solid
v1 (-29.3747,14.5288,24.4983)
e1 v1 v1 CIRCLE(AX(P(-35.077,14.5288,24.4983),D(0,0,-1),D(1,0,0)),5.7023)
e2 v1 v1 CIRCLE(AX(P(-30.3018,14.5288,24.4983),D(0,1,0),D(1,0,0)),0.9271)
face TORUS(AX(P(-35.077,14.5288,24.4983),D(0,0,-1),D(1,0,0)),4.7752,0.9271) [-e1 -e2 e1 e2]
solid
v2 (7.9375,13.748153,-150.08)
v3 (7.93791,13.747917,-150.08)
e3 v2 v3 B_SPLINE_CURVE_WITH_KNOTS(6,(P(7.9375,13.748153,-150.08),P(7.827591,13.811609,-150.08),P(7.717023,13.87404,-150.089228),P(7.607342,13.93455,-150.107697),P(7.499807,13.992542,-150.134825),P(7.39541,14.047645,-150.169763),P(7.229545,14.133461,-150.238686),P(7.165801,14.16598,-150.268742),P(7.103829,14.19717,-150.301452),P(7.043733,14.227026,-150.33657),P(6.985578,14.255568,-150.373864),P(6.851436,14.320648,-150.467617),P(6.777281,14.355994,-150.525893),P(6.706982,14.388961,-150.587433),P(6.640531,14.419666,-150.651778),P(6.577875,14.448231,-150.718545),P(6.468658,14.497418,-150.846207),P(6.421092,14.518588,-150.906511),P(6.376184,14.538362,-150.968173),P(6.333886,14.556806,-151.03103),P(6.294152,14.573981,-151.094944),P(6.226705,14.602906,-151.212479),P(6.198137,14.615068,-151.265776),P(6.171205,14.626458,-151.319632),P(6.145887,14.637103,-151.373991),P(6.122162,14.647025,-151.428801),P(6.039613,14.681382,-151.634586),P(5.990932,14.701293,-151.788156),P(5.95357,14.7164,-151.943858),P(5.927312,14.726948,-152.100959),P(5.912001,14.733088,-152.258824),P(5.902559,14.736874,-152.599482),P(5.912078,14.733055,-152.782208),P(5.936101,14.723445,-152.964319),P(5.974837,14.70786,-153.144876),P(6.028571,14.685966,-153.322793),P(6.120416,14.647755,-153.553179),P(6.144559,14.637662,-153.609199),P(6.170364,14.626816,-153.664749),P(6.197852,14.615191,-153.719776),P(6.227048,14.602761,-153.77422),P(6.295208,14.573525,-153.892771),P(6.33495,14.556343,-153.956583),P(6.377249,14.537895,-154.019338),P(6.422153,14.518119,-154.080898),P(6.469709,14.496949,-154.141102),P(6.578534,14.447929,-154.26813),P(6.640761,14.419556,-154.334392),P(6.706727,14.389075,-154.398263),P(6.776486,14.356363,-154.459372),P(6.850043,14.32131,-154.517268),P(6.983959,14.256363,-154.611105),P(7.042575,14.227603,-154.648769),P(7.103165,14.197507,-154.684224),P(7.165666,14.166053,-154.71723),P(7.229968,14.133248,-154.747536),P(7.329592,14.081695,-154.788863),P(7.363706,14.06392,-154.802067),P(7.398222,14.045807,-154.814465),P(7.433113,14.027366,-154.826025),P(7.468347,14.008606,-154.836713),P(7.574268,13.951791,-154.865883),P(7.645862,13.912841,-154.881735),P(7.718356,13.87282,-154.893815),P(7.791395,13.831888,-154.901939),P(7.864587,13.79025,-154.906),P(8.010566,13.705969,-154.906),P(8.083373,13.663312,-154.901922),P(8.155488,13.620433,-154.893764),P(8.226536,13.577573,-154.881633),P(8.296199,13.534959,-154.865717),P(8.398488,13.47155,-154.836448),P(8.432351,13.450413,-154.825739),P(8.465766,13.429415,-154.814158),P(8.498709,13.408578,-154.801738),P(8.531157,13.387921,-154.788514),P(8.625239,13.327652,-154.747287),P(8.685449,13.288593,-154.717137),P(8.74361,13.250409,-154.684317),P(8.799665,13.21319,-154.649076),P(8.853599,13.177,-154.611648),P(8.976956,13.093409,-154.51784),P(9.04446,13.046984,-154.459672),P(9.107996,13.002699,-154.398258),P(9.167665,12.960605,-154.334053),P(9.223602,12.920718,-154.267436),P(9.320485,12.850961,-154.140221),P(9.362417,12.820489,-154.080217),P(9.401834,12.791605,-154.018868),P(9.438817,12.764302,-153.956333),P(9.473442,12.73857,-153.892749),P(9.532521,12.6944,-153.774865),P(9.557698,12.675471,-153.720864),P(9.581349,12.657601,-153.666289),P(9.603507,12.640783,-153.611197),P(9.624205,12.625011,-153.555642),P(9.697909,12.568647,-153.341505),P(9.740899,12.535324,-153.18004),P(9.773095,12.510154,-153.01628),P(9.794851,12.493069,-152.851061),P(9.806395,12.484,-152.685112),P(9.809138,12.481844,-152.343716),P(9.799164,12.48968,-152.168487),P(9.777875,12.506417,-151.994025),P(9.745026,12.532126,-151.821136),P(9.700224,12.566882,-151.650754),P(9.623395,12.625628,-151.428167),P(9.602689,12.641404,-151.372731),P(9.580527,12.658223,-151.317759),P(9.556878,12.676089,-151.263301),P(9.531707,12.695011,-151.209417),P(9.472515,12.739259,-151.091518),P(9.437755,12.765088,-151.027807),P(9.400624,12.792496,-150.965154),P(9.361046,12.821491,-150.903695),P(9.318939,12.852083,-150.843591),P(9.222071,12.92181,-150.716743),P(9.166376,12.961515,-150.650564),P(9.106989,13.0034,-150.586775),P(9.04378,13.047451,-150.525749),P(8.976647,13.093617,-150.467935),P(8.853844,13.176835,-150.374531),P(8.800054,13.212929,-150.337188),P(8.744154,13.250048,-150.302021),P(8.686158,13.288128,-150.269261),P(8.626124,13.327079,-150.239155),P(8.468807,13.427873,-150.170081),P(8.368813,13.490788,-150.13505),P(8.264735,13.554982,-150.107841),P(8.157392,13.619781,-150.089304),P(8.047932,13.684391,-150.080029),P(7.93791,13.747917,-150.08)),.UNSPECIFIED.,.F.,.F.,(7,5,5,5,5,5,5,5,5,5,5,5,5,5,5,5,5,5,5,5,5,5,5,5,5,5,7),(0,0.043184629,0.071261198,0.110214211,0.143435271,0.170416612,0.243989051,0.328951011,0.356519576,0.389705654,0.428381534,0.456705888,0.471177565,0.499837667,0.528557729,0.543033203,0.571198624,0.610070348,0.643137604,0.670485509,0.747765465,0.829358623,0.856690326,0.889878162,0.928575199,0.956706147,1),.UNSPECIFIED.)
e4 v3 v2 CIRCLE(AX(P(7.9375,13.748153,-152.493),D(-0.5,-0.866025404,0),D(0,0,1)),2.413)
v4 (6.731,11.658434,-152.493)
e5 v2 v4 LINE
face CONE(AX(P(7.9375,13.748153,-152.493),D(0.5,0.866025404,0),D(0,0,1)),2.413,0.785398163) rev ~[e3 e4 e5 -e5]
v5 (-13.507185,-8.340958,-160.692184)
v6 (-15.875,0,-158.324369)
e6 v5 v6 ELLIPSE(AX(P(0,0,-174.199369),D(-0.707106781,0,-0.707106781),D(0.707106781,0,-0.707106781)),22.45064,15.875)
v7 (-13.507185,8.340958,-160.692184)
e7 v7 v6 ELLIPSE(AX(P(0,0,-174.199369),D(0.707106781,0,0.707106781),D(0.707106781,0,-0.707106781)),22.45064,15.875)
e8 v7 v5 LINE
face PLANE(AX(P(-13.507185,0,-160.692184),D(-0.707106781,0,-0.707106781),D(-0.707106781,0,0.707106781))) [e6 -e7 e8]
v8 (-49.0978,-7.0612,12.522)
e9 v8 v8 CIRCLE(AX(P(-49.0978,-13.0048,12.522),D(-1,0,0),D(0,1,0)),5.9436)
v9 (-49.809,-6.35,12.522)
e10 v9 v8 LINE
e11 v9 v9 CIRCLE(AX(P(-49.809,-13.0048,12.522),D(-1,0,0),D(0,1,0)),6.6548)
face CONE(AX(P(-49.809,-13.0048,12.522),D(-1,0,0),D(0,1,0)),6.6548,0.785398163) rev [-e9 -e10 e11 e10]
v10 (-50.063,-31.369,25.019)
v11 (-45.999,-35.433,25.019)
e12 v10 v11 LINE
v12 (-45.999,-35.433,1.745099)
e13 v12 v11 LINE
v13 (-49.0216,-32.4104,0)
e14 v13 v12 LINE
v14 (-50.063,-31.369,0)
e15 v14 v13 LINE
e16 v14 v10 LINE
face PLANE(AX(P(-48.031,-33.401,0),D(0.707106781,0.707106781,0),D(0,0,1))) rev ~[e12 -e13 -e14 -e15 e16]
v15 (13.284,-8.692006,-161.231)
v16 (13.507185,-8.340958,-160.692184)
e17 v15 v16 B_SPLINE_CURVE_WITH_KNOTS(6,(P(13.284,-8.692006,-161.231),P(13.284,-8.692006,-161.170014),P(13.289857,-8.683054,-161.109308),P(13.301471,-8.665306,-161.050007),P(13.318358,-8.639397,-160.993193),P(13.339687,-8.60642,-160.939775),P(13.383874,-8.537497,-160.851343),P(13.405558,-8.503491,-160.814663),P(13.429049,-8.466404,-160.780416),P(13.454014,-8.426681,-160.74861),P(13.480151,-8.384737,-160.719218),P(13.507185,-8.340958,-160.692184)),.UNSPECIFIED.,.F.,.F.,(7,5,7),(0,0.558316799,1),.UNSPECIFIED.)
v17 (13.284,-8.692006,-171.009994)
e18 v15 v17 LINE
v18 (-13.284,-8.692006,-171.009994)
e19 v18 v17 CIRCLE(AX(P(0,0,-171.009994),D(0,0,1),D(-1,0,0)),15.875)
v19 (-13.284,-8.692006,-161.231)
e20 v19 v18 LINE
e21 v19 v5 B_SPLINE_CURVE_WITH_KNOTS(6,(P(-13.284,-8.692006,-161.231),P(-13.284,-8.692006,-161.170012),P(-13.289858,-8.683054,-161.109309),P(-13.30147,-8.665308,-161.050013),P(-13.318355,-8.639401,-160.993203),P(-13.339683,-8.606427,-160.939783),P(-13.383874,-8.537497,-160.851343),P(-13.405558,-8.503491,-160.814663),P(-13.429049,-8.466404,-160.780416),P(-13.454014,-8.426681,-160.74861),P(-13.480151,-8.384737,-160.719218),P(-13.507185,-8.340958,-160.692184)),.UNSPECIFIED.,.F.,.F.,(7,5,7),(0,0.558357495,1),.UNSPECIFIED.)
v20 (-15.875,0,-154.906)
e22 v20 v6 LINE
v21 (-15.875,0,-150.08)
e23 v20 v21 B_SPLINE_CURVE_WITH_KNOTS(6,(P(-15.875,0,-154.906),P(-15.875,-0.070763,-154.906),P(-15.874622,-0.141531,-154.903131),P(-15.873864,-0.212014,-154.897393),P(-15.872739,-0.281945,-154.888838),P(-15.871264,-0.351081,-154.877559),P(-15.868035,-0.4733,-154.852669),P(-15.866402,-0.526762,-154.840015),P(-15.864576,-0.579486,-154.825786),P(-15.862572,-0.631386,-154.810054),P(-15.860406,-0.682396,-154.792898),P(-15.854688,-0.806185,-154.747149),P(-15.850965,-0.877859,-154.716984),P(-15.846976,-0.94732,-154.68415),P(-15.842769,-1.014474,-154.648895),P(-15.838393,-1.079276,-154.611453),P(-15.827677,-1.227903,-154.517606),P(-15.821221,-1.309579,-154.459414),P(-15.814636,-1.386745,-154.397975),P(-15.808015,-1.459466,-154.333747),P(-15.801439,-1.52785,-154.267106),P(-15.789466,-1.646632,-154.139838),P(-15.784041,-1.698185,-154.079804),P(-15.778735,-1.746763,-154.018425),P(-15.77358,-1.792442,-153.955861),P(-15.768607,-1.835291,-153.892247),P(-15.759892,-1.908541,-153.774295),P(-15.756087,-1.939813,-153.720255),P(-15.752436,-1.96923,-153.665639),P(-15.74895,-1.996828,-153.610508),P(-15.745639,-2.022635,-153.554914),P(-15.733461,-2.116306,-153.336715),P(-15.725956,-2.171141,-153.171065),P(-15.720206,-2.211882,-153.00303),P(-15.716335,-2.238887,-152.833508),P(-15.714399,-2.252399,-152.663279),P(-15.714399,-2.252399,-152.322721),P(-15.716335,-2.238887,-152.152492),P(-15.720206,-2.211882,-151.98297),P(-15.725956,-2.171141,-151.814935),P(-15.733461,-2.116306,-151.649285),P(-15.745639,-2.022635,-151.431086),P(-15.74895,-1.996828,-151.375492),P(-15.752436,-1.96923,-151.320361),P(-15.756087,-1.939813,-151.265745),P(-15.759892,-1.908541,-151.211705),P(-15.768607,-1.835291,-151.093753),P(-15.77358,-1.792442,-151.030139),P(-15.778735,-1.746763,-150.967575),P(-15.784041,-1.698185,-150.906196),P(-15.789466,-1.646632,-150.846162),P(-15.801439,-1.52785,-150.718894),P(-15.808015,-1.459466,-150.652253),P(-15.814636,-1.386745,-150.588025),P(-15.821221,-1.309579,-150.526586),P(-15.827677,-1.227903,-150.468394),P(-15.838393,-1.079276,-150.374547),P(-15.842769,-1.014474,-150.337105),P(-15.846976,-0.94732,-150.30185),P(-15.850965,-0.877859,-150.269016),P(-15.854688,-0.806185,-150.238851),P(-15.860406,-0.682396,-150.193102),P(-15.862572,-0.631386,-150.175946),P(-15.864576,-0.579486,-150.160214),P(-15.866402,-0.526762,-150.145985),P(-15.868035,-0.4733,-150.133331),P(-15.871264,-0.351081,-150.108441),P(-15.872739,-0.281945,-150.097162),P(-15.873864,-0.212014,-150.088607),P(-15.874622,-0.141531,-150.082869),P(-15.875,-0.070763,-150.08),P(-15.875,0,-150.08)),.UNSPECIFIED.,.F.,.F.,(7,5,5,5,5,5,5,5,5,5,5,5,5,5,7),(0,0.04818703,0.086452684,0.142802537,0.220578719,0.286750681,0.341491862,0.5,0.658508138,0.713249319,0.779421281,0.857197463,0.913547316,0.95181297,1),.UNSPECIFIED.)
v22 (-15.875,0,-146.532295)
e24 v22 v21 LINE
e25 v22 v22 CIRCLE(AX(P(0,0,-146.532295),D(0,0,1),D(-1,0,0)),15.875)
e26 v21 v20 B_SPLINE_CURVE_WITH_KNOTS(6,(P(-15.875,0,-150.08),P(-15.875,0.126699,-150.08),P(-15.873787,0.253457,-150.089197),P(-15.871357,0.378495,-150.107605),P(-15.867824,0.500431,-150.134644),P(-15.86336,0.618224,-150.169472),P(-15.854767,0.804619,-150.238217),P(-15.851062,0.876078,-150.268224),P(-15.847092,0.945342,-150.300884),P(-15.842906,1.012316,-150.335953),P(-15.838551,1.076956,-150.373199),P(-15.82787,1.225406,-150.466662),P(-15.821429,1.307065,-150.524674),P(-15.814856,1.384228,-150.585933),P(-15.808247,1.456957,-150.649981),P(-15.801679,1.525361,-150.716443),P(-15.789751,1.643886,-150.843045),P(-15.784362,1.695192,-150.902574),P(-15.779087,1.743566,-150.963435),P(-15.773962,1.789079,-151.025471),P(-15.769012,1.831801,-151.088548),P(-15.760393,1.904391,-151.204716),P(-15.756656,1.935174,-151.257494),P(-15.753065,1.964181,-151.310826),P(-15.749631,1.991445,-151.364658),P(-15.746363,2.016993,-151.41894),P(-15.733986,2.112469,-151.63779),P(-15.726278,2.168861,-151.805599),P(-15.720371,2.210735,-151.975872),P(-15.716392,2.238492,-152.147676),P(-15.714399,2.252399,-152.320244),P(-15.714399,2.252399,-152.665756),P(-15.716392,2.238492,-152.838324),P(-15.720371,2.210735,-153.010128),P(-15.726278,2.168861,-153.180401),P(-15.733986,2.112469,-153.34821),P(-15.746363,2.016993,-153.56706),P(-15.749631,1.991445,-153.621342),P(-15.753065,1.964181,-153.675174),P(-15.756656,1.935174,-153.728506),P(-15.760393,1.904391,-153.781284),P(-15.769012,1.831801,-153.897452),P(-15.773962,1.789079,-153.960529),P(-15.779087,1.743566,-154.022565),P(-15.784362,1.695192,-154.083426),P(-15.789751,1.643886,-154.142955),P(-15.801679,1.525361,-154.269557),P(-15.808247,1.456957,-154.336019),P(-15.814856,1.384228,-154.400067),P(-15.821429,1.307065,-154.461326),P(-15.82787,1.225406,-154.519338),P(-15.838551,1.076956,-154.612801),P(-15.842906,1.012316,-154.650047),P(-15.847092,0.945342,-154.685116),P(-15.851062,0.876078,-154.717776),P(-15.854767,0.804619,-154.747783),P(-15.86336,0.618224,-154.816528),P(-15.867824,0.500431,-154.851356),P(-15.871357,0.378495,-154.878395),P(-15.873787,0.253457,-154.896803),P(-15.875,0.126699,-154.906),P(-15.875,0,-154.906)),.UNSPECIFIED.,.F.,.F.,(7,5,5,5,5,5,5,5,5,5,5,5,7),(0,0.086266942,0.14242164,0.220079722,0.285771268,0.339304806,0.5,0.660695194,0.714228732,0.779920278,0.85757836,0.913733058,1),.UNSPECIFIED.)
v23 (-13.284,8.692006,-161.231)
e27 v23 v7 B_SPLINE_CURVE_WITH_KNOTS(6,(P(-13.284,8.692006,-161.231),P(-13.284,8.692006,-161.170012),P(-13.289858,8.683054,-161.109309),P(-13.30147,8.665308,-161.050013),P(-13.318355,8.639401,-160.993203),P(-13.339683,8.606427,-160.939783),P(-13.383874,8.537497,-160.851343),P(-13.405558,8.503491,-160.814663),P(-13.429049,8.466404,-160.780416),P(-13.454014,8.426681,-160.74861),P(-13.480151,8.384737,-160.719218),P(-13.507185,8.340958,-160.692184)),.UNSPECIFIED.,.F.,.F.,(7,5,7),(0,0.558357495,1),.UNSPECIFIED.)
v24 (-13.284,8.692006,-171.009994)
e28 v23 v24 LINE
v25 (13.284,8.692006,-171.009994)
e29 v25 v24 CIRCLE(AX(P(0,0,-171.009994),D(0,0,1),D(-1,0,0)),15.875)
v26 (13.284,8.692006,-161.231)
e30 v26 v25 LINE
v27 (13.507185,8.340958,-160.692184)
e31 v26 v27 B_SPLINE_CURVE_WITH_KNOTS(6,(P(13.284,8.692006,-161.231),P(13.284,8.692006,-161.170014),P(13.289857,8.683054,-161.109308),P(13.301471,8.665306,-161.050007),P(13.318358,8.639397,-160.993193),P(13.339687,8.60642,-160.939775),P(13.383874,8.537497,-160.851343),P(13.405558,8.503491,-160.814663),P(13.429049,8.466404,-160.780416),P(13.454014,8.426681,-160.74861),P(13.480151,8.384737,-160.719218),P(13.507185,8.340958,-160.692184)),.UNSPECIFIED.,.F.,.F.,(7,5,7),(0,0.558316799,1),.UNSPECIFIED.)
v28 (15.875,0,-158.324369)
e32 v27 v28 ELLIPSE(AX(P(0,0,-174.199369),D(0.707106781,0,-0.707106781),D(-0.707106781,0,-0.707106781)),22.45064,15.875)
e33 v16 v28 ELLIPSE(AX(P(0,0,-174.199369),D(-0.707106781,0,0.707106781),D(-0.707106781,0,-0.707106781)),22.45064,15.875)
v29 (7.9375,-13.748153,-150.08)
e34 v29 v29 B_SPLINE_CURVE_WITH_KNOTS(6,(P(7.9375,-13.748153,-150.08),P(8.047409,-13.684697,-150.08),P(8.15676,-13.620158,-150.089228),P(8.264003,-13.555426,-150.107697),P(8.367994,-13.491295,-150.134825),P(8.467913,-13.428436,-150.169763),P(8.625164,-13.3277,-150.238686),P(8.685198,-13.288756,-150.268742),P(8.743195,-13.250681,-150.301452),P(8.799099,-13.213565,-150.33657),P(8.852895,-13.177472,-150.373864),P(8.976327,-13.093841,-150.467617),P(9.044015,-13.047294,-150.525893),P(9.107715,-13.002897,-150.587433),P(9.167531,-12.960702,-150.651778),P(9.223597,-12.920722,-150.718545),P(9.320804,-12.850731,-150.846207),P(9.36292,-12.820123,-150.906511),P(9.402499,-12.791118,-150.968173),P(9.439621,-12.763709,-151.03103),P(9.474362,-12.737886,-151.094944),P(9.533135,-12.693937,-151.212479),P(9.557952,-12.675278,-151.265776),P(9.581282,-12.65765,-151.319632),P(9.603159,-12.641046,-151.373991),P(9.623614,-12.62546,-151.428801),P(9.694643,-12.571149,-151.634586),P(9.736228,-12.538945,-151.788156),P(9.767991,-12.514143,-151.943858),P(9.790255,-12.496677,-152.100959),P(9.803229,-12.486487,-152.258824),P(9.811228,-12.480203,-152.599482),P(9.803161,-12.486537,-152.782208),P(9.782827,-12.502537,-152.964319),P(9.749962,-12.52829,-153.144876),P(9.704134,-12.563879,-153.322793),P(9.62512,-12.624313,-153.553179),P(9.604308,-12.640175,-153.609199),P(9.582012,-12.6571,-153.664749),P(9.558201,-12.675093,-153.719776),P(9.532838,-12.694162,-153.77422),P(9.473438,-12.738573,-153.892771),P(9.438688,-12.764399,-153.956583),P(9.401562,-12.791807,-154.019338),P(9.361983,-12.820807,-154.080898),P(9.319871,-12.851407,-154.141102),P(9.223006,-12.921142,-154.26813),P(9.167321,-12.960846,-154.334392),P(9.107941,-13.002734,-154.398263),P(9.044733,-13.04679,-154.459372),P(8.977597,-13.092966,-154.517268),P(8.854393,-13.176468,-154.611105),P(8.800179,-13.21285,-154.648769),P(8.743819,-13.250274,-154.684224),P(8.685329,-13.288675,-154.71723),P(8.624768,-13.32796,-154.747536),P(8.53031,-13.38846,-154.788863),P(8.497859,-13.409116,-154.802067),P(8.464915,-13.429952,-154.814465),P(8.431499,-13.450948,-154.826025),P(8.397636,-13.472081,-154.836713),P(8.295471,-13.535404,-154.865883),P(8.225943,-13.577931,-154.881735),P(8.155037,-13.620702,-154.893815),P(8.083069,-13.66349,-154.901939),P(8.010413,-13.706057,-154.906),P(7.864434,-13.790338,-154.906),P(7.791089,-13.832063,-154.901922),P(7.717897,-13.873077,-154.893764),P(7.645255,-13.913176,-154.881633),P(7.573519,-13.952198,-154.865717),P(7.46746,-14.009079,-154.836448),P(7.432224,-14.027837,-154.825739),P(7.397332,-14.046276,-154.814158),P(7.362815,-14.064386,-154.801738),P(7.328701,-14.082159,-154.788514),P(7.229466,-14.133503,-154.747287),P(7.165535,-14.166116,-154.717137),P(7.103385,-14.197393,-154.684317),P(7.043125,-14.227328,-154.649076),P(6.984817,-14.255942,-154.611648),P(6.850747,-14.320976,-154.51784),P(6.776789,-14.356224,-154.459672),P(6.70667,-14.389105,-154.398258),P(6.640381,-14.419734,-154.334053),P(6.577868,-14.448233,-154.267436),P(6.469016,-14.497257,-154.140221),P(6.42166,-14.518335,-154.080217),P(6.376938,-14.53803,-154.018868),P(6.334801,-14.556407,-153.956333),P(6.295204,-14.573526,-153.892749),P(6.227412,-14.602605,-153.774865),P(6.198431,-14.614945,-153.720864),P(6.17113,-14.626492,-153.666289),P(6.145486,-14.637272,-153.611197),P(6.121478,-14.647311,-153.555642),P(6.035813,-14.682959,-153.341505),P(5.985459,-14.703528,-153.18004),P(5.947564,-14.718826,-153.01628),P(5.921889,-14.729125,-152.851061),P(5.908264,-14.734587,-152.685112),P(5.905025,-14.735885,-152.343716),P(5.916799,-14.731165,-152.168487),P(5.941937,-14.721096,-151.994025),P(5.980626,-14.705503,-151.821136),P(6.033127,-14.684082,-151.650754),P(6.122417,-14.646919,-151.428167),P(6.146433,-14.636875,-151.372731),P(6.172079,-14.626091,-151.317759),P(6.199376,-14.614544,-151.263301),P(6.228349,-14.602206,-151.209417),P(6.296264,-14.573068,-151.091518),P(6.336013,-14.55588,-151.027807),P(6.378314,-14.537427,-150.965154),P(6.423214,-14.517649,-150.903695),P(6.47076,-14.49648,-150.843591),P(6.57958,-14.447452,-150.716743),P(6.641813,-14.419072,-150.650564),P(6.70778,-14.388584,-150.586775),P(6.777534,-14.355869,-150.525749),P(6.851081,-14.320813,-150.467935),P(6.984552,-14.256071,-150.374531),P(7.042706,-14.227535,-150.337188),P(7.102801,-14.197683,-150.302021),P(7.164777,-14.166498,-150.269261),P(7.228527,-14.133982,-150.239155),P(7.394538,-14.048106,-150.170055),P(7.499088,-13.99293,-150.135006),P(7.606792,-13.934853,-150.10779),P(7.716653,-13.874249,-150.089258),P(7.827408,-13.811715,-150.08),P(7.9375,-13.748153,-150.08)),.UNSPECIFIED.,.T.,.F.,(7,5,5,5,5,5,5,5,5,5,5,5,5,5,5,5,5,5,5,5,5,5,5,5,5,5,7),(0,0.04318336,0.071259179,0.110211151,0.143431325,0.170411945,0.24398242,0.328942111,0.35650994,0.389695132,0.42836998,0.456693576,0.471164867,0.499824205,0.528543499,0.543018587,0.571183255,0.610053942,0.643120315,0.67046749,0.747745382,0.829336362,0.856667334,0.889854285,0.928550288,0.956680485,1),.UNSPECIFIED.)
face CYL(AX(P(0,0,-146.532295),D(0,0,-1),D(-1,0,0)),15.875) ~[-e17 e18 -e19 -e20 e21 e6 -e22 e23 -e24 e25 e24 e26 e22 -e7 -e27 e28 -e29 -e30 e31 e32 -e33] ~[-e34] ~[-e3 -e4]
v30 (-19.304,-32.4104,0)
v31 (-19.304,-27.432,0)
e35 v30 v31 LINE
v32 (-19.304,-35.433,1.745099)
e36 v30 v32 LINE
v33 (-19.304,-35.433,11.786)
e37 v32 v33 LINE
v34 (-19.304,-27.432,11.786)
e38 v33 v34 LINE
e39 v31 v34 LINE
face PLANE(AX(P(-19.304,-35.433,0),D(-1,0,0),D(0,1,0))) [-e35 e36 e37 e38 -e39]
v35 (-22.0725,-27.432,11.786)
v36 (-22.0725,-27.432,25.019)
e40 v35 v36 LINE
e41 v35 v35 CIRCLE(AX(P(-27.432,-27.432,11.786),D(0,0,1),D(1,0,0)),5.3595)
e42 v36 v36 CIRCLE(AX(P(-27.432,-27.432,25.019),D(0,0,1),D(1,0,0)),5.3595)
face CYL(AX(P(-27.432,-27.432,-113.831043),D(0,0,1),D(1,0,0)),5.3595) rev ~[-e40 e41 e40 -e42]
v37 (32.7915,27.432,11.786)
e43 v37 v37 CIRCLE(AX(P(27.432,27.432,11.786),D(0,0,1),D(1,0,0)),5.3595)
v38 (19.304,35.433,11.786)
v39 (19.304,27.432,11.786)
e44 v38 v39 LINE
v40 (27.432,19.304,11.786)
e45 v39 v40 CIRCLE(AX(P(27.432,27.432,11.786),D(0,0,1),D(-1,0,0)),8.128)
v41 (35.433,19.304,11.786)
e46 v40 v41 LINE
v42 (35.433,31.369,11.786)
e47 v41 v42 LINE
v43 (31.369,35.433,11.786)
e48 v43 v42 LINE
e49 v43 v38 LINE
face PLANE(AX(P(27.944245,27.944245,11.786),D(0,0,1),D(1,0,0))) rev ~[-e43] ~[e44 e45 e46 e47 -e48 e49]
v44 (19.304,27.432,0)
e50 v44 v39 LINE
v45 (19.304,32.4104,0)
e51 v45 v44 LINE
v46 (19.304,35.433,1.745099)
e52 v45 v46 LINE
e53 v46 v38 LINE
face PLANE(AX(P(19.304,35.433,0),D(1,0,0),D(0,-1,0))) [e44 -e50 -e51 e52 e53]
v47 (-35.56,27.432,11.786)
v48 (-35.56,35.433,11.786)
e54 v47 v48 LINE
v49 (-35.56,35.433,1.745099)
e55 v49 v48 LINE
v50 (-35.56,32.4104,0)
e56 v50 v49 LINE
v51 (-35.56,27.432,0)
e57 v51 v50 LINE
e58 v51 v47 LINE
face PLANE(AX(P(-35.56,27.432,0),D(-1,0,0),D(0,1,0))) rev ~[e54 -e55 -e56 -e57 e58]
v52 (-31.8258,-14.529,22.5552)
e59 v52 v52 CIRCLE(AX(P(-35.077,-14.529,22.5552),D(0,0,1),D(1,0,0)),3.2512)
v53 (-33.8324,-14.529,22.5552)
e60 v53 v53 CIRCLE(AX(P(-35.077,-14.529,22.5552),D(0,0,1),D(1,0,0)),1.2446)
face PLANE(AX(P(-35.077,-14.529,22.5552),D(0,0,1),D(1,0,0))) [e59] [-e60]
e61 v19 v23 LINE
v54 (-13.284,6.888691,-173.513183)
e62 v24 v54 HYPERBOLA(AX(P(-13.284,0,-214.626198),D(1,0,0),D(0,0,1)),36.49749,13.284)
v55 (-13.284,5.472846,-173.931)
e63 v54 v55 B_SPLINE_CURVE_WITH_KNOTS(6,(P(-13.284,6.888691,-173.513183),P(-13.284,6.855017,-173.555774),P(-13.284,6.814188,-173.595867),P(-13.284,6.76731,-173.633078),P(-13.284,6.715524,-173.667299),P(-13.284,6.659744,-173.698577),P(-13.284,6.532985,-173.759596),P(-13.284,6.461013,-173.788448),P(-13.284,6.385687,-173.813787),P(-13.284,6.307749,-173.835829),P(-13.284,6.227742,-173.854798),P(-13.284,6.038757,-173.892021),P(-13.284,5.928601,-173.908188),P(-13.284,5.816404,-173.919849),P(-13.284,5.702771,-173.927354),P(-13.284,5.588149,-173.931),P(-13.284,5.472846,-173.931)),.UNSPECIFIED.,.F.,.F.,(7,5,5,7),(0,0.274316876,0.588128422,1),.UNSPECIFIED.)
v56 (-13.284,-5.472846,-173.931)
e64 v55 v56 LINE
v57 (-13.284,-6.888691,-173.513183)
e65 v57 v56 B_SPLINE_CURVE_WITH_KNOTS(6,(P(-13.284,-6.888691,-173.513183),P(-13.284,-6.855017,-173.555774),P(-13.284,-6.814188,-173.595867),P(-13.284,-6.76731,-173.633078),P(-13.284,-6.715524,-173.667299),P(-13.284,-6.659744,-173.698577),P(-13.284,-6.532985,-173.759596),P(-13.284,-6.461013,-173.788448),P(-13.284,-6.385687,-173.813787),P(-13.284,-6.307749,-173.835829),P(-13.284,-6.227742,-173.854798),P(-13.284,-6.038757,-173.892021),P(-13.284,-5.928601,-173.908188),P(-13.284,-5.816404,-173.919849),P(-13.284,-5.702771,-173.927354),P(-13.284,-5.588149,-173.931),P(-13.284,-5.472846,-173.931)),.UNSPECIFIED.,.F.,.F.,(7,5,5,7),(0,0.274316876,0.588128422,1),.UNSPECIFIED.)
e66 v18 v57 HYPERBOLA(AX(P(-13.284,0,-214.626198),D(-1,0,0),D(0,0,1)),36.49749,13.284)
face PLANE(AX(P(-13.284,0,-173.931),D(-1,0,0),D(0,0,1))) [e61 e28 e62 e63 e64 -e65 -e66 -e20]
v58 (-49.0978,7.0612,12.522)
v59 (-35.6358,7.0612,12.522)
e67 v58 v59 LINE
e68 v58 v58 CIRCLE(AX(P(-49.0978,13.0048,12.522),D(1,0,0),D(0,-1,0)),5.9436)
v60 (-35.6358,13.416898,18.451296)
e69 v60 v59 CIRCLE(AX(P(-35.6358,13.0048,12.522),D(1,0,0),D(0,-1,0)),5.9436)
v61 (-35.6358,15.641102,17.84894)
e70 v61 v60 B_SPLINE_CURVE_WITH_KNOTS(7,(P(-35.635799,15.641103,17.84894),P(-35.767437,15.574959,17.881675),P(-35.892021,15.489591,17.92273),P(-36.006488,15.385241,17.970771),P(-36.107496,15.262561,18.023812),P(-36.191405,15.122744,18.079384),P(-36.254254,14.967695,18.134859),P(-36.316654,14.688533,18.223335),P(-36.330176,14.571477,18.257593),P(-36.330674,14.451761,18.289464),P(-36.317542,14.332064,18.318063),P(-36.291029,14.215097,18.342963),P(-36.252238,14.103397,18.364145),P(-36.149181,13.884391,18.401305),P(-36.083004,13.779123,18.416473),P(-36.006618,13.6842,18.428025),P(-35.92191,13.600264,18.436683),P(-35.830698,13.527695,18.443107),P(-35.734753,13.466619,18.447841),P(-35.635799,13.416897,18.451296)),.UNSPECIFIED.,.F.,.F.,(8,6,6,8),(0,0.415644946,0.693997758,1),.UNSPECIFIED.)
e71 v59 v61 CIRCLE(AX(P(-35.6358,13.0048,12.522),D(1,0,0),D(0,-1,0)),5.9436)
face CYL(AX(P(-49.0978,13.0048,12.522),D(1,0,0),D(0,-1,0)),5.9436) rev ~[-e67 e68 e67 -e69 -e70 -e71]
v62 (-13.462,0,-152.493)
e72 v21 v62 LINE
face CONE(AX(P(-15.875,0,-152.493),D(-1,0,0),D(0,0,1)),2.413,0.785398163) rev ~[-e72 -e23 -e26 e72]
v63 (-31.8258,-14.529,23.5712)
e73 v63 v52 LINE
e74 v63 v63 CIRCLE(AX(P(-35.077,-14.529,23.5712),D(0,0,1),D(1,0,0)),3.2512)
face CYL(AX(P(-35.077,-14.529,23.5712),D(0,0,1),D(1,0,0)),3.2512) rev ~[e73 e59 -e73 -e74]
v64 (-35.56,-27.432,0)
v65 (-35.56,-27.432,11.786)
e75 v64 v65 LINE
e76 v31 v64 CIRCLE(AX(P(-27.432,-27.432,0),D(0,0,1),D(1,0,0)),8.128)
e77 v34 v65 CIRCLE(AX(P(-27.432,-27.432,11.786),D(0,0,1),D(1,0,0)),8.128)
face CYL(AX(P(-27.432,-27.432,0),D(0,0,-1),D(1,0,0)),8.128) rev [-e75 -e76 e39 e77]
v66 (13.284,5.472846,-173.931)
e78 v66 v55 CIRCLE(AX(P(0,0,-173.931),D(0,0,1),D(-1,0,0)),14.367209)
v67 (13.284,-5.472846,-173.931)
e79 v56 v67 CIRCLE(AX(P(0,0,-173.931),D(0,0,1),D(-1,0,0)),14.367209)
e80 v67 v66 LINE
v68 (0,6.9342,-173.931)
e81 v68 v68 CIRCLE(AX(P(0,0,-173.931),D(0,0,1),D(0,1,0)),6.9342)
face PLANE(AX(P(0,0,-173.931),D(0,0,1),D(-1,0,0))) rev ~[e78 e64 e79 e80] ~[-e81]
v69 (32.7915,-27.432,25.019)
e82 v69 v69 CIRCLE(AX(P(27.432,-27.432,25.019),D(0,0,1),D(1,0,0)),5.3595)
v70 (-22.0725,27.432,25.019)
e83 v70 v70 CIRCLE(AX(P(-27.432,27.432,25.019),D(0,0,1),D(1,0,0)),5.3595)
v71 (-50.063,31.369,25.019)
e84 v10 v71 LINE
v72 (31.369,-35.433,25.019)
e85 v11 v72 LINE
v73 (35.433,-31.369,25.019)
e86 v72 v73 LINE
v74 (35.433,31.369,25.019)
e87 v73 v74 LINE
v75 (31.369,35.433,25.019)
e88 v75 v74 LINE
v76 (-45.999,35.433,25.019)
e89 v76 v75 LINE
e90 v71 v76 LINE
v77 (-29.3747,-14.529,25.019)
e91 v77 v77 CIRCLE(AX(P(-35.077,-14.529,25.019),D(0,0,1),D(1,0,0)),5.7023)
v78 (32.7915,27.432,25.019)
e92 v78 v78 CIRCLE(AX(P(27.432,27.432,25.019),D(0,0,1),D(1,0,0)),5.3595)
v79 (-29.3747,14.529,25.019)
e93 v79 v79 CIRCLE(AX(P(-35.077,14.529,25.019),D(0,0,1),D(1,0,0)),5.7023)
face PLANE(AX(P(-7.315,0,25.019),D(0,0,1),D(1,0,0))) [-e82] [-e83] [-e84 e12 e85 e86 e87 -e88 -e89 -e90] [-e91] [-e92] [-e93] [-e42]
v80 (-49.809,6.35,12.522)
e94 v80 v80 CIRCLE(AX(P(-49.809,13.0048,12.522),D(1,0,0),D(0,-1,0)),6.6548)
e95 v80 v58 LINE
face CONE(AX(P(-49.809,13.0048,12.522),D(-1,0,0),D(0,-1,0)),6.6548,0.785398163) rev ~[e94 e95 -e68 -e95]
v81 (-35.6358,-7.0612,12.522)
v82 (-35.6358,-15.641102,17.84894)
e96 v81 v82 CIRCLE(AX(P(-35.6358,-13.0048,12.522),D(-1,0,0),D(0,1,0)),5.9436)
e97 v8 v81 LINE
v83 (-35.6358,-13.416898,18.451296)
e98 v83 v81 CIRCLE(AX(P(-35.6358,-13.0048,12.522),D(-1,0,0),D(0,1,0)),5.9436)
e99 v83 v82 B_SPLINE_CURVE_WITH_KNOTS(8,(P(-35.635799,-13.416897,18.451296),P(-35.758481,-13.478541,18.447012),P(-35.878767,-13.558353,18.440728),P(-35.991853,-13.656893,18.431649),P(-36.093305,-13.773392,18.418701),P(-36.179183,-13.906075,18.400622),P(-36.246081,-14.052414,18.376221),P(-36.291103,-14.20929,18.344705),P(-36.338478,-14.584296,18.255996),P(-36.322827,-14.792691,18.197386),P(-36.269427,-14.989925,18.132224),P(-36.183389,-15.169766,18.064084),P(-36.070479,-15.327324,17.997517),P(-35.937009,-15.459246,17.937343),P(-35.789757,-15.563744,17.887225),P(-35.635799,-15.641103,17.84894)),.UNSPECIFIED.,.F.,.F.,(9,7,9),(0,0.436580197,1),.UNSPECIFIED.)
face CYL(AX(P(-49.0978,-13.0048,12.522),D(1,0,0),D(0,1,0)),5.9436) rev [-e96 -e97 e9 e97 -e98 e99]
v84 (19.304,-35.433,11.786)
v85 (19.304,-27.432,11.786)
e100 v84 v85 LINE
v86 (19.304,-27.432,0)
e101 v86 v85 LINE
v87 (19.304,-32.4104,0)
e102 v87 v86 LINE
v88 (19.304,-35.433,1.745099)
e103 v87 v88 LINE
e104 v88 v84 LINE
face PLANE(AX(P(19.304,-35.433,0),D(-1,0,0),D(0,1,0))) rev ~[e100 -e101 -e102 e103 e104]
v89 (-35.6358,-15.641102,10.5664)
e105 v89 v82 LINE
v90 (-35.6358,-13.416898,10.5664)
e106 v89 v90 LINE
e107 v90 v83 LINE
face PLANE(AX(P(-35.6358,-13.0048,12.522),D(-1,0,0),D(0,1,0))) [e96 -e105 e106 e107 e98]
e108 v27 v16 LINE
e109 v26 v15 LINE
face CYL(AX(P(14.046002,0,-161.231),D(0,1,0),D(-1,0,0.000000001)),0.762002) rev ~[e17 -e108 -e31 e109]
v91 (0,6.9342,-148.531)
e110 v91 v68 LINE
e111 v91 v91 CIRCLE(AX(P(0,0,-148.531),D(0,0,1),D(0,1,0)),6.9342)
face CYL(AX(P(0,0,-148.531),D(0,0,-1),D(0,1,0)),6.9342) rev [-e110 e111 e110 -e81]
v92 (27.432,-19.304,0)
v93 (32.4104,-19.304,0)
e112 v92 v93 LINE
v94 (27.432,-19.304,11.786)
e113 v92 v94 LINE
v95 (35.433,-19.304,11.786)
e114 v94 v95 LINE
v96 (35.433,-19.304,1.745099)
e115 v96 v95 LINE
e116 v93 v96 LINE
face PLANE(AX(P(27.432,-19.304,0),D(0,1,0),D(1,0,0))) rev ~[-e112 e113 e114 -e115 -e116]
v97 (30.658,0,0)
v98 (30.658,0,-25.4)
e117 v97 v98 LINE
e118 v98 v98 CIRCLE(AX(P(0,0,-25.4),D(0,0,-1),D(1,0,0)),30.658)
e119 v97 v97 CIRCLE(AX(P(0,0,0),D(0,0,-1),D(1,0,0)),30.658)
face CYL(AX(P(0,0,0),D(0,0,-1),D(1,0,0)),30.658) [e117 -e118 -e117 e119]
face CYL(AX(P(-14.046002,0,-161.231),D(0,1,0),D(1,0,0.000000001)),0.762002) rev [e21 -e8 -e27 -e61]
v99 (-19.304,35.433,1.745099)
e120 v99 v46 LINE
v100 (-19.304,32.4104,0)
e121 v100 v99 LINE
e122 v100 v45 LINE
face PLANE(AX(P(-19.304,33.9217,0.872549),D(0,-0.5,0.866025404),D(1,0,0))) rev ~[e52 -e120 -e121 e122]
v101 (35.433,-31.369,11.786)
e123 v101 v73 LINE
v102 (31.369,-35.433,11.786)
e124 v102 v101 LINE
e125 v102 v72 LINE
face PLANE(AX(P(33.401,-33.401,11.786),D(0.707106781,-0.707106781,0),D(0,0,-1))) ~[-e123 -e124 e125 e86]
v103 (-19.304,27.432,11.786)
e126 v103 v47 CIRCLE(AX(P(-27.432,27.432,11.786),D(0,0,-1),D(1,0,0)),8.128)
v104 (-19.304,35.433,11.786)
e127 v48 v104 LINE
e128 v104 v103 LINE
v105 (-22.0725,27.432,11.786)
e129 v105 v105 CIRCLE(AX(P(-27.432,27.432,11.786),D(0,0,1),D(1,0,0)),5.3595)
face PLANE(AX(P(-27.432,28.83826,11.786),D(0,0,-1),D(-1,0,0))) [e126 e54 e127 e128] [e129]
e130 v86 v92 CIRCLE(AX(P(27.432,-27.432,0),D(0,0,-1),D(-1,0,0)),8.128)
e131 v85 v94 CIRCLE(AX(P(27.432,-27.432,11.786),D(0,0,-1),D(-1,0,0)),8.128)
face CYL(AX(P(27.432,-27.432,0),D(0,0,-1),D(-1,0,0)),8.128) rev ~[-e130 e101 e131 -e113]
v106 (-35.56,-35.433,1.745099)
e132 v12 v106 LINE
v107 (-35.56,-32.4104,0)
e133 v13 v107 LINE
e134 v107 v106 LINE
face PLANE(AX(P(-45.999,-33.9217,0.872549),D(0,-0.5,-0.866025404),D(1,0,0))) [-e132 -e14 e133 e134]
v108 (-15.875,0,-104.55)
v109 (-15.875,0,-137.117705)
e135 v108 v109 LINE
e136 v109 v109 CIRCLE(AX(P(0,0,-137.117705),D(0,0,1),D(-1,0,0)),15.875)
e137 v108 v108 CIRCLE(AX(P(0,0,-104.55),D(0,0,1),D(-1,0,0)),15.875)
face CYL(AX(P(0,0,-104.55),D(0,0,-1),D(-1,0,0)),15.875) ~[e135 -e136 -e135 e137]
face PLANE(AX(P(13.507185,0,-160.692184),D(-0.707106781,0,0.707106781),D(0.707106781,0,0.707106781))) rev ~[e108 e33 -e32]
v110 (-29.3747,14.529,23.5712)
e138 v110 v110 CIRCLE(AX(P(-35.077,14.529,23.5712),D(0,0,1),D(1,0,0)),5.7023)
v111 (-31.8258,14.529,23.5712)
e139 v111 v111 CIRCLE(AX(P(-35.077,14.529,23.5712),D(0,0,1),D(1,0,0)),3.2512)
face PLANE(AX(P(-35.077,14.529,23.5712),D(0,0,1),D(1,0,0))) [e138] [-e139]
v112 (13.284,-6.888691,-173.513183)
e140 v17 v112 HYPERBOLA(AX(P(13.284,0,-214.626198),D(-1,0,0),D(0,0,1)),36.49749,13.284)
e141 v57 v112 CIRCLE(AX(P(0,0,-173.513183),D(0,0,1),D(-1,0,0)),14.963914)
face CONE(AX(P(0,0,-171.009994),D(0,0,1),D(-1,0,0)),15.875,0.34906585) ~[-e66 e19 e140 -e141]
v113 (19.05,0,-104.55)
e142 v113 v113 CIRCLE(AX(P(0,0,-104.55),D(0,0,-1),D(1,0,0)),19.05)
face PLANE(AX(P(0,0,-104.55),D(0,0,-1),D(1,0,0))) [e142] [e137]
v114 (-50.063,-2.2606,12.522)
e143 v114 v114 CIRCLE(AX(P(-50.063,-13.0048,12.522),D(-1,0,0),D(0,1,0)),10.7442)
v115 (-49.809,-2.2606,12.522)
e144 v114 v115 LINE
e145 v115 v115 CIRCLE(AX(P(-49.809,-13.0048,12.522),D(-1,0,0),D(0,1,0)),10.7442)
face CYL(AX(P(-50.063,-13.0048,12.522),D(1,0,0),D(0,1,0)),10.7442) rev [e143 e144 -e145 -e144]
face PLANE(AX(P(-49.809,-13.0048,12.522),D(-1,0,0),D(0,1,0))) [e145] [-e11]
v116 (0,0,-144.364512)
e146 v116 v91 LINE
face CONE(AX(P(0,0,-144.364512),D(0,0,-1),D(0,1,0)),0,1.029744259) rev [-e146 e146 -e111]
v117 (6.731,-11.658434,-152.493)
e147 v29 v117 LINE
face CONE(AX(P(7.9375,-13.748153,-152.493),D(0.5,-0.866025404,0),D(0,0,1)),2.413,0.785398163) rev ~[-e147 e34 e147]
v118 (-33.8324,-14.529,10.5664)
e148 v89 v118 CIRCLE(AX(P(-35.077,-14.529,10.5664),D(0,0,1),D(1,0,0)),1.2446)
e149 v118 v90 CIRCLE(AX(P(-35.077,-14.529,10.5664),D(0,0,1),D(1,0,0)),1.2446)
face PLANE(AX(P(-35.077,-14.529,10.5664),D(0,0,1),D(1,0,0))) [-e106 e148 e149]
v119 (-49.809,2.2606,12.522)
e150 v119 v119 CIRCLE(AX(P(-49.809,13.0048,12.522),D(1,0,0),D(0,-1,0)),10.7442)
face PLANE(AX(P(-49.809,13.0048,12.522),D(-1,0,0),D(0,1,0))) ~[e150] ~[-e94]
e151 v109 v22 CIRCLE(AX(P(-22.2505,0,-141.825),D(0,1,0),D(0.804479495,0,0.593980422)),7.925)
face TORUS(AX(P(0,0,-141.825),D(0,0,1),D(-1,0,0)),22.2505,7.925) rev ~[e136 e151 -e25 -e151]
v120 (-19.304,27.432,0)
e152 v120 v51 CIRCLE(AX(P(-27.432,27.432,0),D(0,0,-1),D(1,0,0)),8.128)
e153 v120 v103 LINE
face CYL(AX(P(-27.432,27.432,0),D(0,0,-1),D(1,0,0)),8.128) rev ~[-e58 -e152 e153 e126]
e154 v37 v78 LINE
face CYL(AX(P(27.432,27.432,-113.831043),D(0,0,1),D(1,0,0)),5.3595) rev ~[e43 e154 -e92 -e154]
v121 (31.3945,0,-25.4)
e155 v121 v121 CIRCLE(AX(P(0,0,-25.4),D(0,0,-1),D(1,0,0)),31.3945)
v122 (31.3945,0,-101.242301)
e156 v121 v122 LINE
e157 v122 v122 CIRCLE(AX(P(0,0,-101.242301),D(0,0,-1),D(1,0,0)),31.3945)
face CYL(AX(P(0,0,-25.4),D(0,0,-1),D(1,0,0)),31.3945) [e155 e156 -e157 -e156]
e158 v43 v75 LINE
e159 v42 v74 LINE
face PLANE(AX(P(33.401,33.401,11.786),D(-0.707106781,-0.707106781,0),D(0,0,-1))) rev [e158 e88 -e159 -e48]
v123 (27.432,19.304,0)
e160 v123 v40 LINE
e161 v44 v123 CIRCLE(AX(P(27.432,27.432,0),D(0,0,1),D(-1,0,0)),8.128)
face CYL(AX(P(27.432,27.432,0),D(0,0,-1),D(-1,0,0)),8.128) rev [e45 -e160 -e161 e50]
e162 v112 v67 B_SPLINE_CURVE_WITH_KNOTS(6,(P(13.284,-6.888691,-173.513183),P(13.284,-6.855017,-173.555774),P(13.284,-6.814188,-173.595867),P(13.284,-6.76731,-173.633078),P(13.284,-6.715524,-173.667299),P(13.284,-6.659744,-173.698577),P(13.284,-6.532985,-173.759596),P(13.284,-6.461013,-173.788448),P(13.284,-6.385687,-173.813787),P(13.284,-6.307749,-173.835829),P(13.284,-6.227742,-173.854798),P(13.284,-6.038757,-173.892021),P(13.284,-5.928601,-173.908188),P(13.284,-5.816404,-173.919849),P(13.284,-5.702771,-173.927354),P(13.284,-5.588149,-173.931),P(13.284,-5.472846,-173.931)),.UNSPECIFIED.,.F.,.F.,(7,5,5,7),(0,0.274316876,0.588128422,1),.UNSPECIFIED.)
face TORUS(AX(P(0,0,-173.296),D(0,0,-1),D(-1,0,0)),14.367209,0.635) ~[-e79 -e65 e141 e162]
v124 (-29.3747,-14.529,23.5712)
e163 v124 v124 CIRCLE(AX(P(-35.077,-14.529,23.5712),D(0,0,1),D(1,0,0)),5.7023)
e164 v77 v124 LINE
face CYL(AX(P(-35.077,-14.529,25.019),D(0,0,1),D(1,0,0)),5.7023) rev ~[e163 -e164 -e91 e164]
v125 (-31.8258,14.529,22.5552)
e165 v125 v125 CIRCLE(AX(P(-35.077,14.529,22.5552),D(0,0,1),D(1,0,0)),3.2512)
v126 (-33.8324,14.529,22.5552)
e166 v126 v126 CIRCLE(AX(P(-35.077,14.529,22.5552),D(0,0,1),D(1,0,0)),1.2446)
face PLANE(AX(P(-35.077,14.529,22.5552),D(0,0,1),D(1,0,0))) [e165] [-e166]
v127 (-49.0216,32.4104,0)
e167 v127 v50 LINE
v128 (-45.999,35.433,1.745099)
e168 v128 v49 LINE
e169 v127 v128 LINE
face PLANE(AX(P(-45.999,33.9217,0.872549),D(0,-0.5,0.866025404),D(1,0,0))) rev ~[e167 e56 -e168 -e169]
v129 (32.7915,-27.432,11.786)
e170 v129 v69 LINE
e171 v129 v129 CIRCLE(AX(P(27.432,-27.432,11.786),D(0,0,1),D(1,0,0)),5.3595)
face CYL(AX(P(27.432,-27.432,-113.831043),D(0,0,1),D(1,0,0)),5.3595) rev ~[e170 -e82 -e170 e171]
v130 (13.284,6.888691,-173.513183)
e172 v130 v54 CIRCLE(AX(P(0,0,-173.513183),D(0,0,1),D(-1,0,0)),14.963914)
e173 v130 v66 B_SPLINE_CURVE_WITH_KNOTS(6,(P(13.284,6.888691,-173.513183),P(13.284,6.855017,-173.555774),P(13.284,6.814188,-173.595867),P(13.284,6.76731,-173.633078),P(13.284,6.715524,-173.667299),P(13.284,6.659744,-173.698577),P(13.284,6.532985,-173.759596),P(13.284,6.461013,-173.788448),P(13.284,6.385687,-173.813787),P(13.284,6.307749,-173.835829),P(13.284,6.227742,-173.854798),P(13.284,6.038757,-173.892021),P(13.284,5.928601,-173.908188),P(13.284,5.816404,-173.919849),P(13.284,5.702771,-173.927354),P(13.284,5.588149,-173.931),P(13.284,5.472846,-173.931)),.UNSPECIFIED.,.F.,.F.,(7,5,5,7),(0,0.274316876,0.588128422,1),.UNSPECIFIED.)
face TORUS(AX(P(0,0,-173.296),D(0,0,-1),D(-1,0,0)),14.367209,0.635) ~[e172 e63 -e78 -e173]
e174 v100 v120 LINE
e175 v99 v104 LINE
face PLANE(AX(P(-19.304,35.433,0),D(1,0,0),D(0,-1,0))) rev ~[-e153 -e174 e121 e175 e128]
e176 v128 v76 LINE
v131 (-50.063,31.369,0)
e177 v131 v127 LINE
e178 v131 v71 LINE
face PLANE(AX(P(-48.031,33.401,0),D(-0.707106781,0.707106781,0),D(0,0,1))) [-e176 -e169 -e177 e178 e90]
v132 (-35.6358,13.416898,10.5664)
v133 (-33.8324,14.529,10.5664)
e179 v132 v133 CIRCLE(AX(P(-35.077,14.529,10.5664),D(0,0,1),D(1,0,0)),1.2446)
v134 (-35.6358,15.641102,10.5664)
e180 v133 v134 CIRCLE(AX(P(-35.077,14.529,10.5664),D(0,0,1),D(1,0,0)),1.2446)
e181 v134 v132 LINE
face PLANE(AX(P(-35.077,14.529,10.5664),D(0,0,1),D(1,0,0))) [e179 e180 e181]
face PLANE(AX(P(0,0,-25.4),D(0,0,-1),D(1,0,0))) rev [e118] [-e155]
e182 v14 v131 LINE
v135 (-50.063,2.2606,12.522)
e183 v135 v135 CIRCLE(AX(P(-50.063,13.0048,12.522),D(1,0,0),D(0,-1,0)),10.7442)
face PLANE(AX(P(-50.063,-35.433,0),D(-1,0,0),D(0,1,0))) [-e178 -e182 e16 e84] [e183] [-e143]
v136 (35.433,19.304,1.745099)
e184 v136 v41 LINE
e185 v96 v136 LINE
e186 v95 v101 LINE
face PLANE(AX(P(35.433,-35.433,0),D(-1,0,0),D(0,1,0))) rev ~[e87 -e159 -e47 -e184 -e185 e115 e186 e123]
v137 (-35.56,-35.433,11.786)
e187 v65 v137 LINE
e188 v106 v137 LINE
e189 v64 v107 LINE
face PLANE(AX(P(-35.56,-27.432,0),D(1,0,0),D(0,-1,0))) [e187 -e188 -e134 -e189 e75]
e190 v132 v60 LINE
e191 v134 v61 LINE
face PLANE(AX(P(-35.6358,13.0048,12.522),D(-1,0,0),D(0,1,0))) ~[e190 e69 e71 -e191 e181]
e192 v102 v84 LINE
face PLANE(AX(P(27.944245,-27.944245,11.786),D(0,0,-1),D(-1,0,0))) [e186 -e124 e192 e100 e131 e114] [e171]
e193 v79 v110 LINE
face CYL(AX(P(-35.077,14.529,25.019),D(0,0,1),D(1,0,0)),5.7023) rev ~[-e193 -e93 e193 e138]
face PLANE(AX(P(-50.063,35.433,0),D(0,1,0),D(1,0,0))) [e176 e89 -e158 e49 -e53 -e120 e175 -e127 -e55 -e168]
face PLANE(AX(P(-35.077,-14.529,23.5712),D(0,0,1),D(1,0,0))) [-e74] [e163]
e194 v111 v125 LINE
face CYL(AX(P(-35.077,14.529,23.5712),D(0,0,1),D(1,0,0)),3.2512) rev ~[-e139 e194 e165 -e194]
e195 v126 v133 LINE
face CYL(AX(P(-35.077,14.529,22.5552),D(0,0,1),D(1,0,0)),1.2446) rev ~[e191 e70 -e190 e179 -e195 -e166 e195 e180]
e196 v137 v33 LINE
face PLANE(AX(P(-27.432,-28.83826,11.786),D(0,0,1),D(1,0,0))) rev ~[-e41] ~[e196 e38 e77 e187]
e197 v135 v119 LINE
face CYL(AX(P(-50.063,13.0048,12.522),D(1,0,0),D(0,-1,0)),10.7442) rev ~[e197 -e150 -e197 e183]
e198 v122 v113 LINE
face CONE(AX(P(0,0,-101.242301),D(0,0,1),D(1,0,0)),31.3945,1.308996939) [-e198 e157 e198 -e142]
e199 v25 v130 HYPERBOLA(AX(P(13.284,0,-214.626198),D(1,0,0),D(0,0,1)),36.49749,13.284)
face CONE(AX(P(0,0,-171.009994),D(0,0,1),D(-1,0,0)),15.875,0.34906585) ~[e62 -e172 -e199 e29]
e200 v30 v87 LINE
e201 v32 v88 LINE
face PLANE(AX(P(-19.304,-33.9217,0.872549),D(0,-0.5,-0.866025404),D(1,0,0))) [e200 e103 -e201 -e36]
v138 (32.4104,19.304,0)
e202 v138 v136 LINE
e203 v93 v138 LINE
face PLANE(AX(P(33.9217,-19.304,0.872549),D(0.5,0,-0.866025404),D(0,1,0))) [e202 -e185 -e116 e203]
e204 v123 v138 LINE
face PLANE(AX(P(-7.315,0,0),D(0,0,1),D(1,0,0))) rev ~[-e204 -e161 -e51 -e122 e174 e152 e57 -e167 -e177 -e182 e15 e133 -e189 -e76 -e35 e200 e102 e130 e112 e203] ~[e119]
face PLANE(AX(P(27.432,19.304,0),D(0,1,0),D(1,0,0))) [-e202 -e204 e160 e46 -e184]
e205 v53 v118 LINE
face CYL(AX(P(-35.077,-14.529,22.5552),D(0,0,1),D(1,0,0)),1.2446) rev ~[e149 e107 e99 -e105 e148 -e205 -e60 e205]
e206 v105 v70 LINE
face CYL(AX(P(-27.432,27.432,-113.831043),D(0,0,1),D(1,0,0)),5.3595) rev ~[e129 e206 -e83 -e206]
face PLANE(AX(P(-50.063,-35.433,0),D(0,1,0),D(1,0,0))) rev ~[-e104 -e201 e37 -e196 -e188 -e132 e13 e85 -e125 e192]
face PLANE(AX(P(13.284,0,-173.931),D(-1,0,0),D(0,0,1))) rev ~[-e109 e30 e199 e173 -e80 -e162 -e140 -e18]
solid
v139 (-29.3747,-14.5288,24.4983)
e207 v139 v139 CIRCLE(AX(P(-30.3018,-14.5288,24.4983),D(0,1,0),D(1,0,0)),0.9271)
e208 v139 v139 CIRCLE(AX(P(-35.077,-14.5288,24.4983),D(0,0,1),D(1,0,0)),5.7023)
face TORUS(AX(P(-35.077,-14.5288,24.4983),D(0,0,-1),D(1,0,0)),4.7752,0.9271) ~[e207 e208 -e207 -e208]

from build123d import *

# Parameters (mm, degrees)
SKETCH1_W               = 85.496
SKETCH1_H               = 70.866
EXTRUDE1_DEPTH          = 25.019
HOLE1_D                 = 10.719
CUT_EXTRUDE2_DEPTH      = 11.786
SKETCH6_R               = 5.7023
CUT_EXTRUDE3_DEPTH      = 1.4478
SKETCH7_R               = 3.2512
CUT_EXTRUDE4_DEPTH      = 1.016
SKETCH8_R               = 1.2446
CUT_EXTRUDE5_DEPTH      = 11.9888
SKETCH9_R               = 0.9271
CHAMFER1_SIZE           = 4.064
CHAMFER2_SIZE           = 3.0226
CHAMFER2_SIZE2          = 1.745098924
CIRPATTERN1_COUNT       = 3
FILLET2_R               = 0.635
CUT_EXTRUDE8_DEPTH      = 36.433
CUT_EXTRUDE8_DEPTH_BACK = 36.433


with BuildPart() as part:
    # Sketch1 → Extrude1 (new body)
    with BuildSketch(Plane.XY):
        with Locations((-7.315, 0)):
            Rectangle(SKETCH1_W, SKETCH1_H)
    extrude(amount=EXTRUDE1_DEPTH)

    # Hole1 (through all)
    with Locations(Plane(origin=(0, 0, 0), x_dir=(-1, 0, 0), z_dir=(0, 0, -1))):
        with Locations((-27.432, -27.432), (-27.432, 27.432), (27.432, 27.432), (27.432, -27.432)):
            Hole(HOLE1_D / 2)

    # Sketch3 → Cut-Extrude2 (cut)
    with BuildSketch(Plane(origin=(0, 0, 0), x_dir=(-1, 0, 0), z_dir=(0, 0, -1))):
        with BuildLine():
            Line((-27.432, -19.304), (-35.433, -19.304))
            Line((-35.433, -19.304), (-35.433, -35.433))
            Line((-35.433, -35.433), (-19.304, -35.433))
            Line((-19.304, -35.433), (-19.304, -27.432))
            ThreePointArc((-19.304, -27.432), (-21.684636083, -21.684636083), (-27.432, -19.304))
        make_face()
        with BuildLine():
            Line((-35.433, 19.304), (-35.433, 35.433))
            Line((-35.433, 35.433), (-19.304, 35.433))
            Line((-19.304, 35.433), (-19.304, 27.432))
            ThreePointArc((-19.304, 27.432), (-21.684636083, 21.684636083), (-27.432, 19.304))
            Line((-27.432, 19.304), (-35.433, 19.304))
        make_face()
        with BuildLine():
            Line((19.304, 35.433), (19.304, 27.432))
            ThreePointArc((19.304, 27.432), (27.432, 19.304), (35.56, 27.432))
            Line((35.56, 27.432), (35.56, 35.433))
            Line((35.56, 35.433), (19.304, 35.433))
        make_face()
        with BuildLine():
            Line((35.56, -35.433), (19.304, -35.433))
            Line((19.304, -35.433), (19.304, -27.432))
            ThreePointArc((19.304, -27.432), (27.432, -19.304), (35.56, -27.432))
            Line((35.56, -27.432), (35.56, -35.433))
        make_face()
    extrude(amount=-CUT_EXTRUDE2_DEPTH, mode=Mode.SUBTRACT)

    # Sketch23 → Cut-Revolve5 (revolve, cut)
    with BuildSketch(Plane.XY.offset(12.522), mode=Mode.PRIVATE) as cut_revolve5_sk:
        Polygon((-50.063, -23.749), (-49.809, -23.749), (-49.809, -19.6596), (-49.0978, -18.9484), (-35.6358, -18.9484), (-35.6358, -13.0048), (-50.063, -13.0048), align=None)
    cut_revolve5 = revolve(cut_revolve5_sk.sketch.rotate(Axis((-11.939660979, -13.0048, 12.522), (-1, 0, 0)), 180), axis=Axis((-11.939660979, -13.0048, 12.522), (-1, 0, 0)), mode=Mode.SUBTRACT)  # turned: the seam where the file's is

    # Mirror1: Cut-Revolve5 across plane
    add(cut_revolve5.mirror(Plane.ZX), mode=Mode.SUBTRACT)

    # Sketch6 → Cut-Extrude3 (cut)
    with BuildSketch(Plane.XY.offset(25.019)):
        with Locations((-35.077, -14.529)):
            Circle(SKETCH6_R)
        with Locations((-35.077, 14.529)):
            Circle(SKETCH6_R)
    extrude(amount=-CUT_EXTRUDE3_DEPTH, mode=Mode.SUBTRACT)

    # Sketch7 → Cut-Extrude4 (cut)
    with BuildSketch(Plane.XY.offset(23.5712)):
        with Locations((-35.077, 14.529)):
            Circle(SKETCH7_R)
        with Locations((-35.077, -14.529)):
            Circle(SKETCH7_R)
    extrude(amount=-CUT_EXTRUDE4_DEPTH, mode=Mode.SUBTRACT)

    # Sketch8 → Cut-Extrude5 (cut)
    with BuildSketch(Plane.XY.offset(22.5552)):
        with Locations((-35.077, 14.529)):
            Circle(SKETCH8_R)
        with Locations((-35.077, -14.529)):
            Circle(SKETCH8_R)
    extrude(amount=-CUT_EXTRUDE5_DEPTH, mode=Mode.SUBTRACT)

    # Chamfer1
    chamfer1_edges = [part.edges().sort_by_distance(p)[0] for p in [
        (-50.063, 35.433, 12.5095),
        (35.433, 35.433, 18.4025),
        (35.433, -35.433, 18.4025),
        (-50.063, -35.433, 12.5095),
    ]]
    chamfer(chamfer1_edges, length=CHAMFER1_SIZE)

    # Chamfer2
    chamfer2_edges = [part.edges().sort_by_distance(p)[0] for p in [
        (-40.7795, -35.433, 0),
        (35.433, 0, 0),
        (0, 35.433, 0),
        (-40.7795, 35.433, 0),
        (0, -35.433, 0),
    ]]
    chamfer2_side = [part.faces().sort_by_distance(p)[0] for p in [
        (-8.721219411, 0, 0),
    ]]
    chamfer(chamfer2_edges, length=CHAMFER2_SIZE, length2=CHAMFER2_SIZE2, reference=chamfer2_side[0])

    # Sketch24 → Revolve4 (revolve)
    with BuildSketch(Plane(origin=(0, 0, 0), x_dir=(0, 0, -1), z_dir=(1, 0, 0)), mode=Mode.PRIVATE) as revolve4_sk:
        Polygon((0, 0), (0, 30.658), (25.4, 30.658), (25.4, 31.3945), (101.242301194, 31.3945), (104.55, 19.05), (104.55, 0), align=None)
    revolve(revolve4_sk.sketch.rotate(Axis((0, 0, 0), (0, 0, -1)), 90), axis=Axis((0, 0, 0), (0, 0, -1)))  # turned: the seam where the file's is

    # Sketch17 → Revolve3 (revolve)
    with BuildSketch(Plane(origin=(0, 0, 0), x_dir=(0, 0, -1), z_dir=(1, 0, 0)), mode=Mode.PRIVATE) as revolve3_sk:
        with BuildLine():
            Line((104.55, 0), (104.55, -15.875))
            Line((104.55, -15.875), (137.117705156, -15.875))
            ThreePointArc((137.117705156, -15.875), (141.825, -14.3255), (146.532294844, -15.875))
            Line((146.532294844, -15.875), (171.00999416, -15.875))
            Line((171.00999416, -15.875), (173.931, -14.81184082))
            Line((173.931, -14.81184082), (173.931, 0))
            Line((173.931, 0), (104.55, 0))
        make_face()
    revolve(revolve3_sk.sketch.rotate(Axis((0, 0, -130.8989), (0, 0, 1)), 270), axis=Axis((0, 0, -130.8989), (0, 0, 1)))  # turned: the seam where the file's is

    # Sketch30 → Cut-Revolve6 (revolve, cut)
    with BuildSketch(Plane(origin=(0, 0, 0), x_dir=(1, 0, 0), z_dir=(0, 1, 0)), mode=Mode.PRIVATE) as cut_revolve6_sk:
        Polygon((-15.875, 154.906), (-13.462, 152.493), (-15.875, 152.493), align=None)
    cut_revolve6 = revolve(cut_revolve6_sk.sketch.rotate(Axis((-27.819320819, 0, -152.493), (1, 0, 0)), 180), axis=Axis((-27.819320819, 0, -152.493), (1, 0, 0)), mode=Mode.SUBTRACT)  # turned: the seam where the file's is

    # CirPattern1: Cut-Revolve6 ×3 about axis
    cirpattern1_axis = Axis((0, 0, -130.8989), (0, 0, -1))
    for i in range(1, CIRPATTERN1_COUNT):
        add(cut_revolve6.rotate(cirpattern1_axis, i * 360 / CIRPATTERN1_COUNT), mode=Mode.SUBTRACT)

    # Fillet2
    fillet2_edges = [part.edges().sort_by_distance(p)[0] for p in [
        (14.81184082, 0, -173.931),
    ]]
    fillet(fillet2_edges, radius=FILLET2_R)

    # Sketch32 → Cut-Extrude8 (cut, two sides)
    with BuildSketch(Plane(origin=(0, 0, 0), x_dir=(1, 0, 0), z_dir=(0, 1, 0))) as cut_extrude8_sk:
        with BuildLine():
            Line((-13.284, 173.931), (-13.284, 161.231))
            ThreePointArc((-13.284, 161.231), (-13.342003912, 160.939394643), (-13.507185078, 160.692183558))
            Line((-13.507185078, 160.692183558), (-15.875, 158.324368636))
            Line((-15.875, 158.324368636), (-15.875, 173.931))
            Line((-15.875, 173.931), (-13.284, 173.931))
        make_face()
        with BuildLine():
            Line((15.875, 173.931), (13.284, 173.931))
            Line((13.284, 173.931), (13.284, 161.231))
            ThreePointArc((13.284, 161.231), (13.342003912, 160.939394643), (13.507185078, 160.692183558))
            Line((13.507185078, 160.692183558), (15.875, 158.324368636))
            Line((15.875, 158.324368636), (15.875, 173.931))
        make_face()
    extrude(amount=CUT_EXTRUDE8_DEPTH, mode=Mode.SUBTRACT)
    extrude(cut_extrude8_sk.sketch, amount=-CUT_EXTRUDE8_DEPTH_BACK, mode=Mode.SUBTRACT)

    # Sketch33 → Hole2 (revolve, cut)
    with BuildSketch(Plane(origin=(0, 0, -173.931), x_dir=(0, 1, 0), z_dir=(1, 0, 0))):
        Polygon((0, 0), (0, 29.566487704), (6.9342, 25.4), (6.9342, 0), align=None)
    revolve(axis=Axis((0, 0, -178.175199587), (0, 0, 1)), mode=Mode.SUBTRACT)


with BuildPart() as body_2:
    # Sketch9 → Revolve1 (revolve)
    with BuildSketch(Plane(origin=(-41.656, 14.5288, 23.5712), x_dir=(1, 0, 0), z_dir=(0, 1, 0))):
        with Locations((11.3542, -0.9271)):
            Circle(SKETCH9_R)
    revolve(axis=Axis((-35.077, 14.5288, 25.51811), (0, 0, -1)))


with BuildPart() as body_3:
    # Mirror2: mirrored copy
    add(body_2.part.mirror(Plane.ZX))


solid = Compound([part.part, body_2.part, body_3.part])
